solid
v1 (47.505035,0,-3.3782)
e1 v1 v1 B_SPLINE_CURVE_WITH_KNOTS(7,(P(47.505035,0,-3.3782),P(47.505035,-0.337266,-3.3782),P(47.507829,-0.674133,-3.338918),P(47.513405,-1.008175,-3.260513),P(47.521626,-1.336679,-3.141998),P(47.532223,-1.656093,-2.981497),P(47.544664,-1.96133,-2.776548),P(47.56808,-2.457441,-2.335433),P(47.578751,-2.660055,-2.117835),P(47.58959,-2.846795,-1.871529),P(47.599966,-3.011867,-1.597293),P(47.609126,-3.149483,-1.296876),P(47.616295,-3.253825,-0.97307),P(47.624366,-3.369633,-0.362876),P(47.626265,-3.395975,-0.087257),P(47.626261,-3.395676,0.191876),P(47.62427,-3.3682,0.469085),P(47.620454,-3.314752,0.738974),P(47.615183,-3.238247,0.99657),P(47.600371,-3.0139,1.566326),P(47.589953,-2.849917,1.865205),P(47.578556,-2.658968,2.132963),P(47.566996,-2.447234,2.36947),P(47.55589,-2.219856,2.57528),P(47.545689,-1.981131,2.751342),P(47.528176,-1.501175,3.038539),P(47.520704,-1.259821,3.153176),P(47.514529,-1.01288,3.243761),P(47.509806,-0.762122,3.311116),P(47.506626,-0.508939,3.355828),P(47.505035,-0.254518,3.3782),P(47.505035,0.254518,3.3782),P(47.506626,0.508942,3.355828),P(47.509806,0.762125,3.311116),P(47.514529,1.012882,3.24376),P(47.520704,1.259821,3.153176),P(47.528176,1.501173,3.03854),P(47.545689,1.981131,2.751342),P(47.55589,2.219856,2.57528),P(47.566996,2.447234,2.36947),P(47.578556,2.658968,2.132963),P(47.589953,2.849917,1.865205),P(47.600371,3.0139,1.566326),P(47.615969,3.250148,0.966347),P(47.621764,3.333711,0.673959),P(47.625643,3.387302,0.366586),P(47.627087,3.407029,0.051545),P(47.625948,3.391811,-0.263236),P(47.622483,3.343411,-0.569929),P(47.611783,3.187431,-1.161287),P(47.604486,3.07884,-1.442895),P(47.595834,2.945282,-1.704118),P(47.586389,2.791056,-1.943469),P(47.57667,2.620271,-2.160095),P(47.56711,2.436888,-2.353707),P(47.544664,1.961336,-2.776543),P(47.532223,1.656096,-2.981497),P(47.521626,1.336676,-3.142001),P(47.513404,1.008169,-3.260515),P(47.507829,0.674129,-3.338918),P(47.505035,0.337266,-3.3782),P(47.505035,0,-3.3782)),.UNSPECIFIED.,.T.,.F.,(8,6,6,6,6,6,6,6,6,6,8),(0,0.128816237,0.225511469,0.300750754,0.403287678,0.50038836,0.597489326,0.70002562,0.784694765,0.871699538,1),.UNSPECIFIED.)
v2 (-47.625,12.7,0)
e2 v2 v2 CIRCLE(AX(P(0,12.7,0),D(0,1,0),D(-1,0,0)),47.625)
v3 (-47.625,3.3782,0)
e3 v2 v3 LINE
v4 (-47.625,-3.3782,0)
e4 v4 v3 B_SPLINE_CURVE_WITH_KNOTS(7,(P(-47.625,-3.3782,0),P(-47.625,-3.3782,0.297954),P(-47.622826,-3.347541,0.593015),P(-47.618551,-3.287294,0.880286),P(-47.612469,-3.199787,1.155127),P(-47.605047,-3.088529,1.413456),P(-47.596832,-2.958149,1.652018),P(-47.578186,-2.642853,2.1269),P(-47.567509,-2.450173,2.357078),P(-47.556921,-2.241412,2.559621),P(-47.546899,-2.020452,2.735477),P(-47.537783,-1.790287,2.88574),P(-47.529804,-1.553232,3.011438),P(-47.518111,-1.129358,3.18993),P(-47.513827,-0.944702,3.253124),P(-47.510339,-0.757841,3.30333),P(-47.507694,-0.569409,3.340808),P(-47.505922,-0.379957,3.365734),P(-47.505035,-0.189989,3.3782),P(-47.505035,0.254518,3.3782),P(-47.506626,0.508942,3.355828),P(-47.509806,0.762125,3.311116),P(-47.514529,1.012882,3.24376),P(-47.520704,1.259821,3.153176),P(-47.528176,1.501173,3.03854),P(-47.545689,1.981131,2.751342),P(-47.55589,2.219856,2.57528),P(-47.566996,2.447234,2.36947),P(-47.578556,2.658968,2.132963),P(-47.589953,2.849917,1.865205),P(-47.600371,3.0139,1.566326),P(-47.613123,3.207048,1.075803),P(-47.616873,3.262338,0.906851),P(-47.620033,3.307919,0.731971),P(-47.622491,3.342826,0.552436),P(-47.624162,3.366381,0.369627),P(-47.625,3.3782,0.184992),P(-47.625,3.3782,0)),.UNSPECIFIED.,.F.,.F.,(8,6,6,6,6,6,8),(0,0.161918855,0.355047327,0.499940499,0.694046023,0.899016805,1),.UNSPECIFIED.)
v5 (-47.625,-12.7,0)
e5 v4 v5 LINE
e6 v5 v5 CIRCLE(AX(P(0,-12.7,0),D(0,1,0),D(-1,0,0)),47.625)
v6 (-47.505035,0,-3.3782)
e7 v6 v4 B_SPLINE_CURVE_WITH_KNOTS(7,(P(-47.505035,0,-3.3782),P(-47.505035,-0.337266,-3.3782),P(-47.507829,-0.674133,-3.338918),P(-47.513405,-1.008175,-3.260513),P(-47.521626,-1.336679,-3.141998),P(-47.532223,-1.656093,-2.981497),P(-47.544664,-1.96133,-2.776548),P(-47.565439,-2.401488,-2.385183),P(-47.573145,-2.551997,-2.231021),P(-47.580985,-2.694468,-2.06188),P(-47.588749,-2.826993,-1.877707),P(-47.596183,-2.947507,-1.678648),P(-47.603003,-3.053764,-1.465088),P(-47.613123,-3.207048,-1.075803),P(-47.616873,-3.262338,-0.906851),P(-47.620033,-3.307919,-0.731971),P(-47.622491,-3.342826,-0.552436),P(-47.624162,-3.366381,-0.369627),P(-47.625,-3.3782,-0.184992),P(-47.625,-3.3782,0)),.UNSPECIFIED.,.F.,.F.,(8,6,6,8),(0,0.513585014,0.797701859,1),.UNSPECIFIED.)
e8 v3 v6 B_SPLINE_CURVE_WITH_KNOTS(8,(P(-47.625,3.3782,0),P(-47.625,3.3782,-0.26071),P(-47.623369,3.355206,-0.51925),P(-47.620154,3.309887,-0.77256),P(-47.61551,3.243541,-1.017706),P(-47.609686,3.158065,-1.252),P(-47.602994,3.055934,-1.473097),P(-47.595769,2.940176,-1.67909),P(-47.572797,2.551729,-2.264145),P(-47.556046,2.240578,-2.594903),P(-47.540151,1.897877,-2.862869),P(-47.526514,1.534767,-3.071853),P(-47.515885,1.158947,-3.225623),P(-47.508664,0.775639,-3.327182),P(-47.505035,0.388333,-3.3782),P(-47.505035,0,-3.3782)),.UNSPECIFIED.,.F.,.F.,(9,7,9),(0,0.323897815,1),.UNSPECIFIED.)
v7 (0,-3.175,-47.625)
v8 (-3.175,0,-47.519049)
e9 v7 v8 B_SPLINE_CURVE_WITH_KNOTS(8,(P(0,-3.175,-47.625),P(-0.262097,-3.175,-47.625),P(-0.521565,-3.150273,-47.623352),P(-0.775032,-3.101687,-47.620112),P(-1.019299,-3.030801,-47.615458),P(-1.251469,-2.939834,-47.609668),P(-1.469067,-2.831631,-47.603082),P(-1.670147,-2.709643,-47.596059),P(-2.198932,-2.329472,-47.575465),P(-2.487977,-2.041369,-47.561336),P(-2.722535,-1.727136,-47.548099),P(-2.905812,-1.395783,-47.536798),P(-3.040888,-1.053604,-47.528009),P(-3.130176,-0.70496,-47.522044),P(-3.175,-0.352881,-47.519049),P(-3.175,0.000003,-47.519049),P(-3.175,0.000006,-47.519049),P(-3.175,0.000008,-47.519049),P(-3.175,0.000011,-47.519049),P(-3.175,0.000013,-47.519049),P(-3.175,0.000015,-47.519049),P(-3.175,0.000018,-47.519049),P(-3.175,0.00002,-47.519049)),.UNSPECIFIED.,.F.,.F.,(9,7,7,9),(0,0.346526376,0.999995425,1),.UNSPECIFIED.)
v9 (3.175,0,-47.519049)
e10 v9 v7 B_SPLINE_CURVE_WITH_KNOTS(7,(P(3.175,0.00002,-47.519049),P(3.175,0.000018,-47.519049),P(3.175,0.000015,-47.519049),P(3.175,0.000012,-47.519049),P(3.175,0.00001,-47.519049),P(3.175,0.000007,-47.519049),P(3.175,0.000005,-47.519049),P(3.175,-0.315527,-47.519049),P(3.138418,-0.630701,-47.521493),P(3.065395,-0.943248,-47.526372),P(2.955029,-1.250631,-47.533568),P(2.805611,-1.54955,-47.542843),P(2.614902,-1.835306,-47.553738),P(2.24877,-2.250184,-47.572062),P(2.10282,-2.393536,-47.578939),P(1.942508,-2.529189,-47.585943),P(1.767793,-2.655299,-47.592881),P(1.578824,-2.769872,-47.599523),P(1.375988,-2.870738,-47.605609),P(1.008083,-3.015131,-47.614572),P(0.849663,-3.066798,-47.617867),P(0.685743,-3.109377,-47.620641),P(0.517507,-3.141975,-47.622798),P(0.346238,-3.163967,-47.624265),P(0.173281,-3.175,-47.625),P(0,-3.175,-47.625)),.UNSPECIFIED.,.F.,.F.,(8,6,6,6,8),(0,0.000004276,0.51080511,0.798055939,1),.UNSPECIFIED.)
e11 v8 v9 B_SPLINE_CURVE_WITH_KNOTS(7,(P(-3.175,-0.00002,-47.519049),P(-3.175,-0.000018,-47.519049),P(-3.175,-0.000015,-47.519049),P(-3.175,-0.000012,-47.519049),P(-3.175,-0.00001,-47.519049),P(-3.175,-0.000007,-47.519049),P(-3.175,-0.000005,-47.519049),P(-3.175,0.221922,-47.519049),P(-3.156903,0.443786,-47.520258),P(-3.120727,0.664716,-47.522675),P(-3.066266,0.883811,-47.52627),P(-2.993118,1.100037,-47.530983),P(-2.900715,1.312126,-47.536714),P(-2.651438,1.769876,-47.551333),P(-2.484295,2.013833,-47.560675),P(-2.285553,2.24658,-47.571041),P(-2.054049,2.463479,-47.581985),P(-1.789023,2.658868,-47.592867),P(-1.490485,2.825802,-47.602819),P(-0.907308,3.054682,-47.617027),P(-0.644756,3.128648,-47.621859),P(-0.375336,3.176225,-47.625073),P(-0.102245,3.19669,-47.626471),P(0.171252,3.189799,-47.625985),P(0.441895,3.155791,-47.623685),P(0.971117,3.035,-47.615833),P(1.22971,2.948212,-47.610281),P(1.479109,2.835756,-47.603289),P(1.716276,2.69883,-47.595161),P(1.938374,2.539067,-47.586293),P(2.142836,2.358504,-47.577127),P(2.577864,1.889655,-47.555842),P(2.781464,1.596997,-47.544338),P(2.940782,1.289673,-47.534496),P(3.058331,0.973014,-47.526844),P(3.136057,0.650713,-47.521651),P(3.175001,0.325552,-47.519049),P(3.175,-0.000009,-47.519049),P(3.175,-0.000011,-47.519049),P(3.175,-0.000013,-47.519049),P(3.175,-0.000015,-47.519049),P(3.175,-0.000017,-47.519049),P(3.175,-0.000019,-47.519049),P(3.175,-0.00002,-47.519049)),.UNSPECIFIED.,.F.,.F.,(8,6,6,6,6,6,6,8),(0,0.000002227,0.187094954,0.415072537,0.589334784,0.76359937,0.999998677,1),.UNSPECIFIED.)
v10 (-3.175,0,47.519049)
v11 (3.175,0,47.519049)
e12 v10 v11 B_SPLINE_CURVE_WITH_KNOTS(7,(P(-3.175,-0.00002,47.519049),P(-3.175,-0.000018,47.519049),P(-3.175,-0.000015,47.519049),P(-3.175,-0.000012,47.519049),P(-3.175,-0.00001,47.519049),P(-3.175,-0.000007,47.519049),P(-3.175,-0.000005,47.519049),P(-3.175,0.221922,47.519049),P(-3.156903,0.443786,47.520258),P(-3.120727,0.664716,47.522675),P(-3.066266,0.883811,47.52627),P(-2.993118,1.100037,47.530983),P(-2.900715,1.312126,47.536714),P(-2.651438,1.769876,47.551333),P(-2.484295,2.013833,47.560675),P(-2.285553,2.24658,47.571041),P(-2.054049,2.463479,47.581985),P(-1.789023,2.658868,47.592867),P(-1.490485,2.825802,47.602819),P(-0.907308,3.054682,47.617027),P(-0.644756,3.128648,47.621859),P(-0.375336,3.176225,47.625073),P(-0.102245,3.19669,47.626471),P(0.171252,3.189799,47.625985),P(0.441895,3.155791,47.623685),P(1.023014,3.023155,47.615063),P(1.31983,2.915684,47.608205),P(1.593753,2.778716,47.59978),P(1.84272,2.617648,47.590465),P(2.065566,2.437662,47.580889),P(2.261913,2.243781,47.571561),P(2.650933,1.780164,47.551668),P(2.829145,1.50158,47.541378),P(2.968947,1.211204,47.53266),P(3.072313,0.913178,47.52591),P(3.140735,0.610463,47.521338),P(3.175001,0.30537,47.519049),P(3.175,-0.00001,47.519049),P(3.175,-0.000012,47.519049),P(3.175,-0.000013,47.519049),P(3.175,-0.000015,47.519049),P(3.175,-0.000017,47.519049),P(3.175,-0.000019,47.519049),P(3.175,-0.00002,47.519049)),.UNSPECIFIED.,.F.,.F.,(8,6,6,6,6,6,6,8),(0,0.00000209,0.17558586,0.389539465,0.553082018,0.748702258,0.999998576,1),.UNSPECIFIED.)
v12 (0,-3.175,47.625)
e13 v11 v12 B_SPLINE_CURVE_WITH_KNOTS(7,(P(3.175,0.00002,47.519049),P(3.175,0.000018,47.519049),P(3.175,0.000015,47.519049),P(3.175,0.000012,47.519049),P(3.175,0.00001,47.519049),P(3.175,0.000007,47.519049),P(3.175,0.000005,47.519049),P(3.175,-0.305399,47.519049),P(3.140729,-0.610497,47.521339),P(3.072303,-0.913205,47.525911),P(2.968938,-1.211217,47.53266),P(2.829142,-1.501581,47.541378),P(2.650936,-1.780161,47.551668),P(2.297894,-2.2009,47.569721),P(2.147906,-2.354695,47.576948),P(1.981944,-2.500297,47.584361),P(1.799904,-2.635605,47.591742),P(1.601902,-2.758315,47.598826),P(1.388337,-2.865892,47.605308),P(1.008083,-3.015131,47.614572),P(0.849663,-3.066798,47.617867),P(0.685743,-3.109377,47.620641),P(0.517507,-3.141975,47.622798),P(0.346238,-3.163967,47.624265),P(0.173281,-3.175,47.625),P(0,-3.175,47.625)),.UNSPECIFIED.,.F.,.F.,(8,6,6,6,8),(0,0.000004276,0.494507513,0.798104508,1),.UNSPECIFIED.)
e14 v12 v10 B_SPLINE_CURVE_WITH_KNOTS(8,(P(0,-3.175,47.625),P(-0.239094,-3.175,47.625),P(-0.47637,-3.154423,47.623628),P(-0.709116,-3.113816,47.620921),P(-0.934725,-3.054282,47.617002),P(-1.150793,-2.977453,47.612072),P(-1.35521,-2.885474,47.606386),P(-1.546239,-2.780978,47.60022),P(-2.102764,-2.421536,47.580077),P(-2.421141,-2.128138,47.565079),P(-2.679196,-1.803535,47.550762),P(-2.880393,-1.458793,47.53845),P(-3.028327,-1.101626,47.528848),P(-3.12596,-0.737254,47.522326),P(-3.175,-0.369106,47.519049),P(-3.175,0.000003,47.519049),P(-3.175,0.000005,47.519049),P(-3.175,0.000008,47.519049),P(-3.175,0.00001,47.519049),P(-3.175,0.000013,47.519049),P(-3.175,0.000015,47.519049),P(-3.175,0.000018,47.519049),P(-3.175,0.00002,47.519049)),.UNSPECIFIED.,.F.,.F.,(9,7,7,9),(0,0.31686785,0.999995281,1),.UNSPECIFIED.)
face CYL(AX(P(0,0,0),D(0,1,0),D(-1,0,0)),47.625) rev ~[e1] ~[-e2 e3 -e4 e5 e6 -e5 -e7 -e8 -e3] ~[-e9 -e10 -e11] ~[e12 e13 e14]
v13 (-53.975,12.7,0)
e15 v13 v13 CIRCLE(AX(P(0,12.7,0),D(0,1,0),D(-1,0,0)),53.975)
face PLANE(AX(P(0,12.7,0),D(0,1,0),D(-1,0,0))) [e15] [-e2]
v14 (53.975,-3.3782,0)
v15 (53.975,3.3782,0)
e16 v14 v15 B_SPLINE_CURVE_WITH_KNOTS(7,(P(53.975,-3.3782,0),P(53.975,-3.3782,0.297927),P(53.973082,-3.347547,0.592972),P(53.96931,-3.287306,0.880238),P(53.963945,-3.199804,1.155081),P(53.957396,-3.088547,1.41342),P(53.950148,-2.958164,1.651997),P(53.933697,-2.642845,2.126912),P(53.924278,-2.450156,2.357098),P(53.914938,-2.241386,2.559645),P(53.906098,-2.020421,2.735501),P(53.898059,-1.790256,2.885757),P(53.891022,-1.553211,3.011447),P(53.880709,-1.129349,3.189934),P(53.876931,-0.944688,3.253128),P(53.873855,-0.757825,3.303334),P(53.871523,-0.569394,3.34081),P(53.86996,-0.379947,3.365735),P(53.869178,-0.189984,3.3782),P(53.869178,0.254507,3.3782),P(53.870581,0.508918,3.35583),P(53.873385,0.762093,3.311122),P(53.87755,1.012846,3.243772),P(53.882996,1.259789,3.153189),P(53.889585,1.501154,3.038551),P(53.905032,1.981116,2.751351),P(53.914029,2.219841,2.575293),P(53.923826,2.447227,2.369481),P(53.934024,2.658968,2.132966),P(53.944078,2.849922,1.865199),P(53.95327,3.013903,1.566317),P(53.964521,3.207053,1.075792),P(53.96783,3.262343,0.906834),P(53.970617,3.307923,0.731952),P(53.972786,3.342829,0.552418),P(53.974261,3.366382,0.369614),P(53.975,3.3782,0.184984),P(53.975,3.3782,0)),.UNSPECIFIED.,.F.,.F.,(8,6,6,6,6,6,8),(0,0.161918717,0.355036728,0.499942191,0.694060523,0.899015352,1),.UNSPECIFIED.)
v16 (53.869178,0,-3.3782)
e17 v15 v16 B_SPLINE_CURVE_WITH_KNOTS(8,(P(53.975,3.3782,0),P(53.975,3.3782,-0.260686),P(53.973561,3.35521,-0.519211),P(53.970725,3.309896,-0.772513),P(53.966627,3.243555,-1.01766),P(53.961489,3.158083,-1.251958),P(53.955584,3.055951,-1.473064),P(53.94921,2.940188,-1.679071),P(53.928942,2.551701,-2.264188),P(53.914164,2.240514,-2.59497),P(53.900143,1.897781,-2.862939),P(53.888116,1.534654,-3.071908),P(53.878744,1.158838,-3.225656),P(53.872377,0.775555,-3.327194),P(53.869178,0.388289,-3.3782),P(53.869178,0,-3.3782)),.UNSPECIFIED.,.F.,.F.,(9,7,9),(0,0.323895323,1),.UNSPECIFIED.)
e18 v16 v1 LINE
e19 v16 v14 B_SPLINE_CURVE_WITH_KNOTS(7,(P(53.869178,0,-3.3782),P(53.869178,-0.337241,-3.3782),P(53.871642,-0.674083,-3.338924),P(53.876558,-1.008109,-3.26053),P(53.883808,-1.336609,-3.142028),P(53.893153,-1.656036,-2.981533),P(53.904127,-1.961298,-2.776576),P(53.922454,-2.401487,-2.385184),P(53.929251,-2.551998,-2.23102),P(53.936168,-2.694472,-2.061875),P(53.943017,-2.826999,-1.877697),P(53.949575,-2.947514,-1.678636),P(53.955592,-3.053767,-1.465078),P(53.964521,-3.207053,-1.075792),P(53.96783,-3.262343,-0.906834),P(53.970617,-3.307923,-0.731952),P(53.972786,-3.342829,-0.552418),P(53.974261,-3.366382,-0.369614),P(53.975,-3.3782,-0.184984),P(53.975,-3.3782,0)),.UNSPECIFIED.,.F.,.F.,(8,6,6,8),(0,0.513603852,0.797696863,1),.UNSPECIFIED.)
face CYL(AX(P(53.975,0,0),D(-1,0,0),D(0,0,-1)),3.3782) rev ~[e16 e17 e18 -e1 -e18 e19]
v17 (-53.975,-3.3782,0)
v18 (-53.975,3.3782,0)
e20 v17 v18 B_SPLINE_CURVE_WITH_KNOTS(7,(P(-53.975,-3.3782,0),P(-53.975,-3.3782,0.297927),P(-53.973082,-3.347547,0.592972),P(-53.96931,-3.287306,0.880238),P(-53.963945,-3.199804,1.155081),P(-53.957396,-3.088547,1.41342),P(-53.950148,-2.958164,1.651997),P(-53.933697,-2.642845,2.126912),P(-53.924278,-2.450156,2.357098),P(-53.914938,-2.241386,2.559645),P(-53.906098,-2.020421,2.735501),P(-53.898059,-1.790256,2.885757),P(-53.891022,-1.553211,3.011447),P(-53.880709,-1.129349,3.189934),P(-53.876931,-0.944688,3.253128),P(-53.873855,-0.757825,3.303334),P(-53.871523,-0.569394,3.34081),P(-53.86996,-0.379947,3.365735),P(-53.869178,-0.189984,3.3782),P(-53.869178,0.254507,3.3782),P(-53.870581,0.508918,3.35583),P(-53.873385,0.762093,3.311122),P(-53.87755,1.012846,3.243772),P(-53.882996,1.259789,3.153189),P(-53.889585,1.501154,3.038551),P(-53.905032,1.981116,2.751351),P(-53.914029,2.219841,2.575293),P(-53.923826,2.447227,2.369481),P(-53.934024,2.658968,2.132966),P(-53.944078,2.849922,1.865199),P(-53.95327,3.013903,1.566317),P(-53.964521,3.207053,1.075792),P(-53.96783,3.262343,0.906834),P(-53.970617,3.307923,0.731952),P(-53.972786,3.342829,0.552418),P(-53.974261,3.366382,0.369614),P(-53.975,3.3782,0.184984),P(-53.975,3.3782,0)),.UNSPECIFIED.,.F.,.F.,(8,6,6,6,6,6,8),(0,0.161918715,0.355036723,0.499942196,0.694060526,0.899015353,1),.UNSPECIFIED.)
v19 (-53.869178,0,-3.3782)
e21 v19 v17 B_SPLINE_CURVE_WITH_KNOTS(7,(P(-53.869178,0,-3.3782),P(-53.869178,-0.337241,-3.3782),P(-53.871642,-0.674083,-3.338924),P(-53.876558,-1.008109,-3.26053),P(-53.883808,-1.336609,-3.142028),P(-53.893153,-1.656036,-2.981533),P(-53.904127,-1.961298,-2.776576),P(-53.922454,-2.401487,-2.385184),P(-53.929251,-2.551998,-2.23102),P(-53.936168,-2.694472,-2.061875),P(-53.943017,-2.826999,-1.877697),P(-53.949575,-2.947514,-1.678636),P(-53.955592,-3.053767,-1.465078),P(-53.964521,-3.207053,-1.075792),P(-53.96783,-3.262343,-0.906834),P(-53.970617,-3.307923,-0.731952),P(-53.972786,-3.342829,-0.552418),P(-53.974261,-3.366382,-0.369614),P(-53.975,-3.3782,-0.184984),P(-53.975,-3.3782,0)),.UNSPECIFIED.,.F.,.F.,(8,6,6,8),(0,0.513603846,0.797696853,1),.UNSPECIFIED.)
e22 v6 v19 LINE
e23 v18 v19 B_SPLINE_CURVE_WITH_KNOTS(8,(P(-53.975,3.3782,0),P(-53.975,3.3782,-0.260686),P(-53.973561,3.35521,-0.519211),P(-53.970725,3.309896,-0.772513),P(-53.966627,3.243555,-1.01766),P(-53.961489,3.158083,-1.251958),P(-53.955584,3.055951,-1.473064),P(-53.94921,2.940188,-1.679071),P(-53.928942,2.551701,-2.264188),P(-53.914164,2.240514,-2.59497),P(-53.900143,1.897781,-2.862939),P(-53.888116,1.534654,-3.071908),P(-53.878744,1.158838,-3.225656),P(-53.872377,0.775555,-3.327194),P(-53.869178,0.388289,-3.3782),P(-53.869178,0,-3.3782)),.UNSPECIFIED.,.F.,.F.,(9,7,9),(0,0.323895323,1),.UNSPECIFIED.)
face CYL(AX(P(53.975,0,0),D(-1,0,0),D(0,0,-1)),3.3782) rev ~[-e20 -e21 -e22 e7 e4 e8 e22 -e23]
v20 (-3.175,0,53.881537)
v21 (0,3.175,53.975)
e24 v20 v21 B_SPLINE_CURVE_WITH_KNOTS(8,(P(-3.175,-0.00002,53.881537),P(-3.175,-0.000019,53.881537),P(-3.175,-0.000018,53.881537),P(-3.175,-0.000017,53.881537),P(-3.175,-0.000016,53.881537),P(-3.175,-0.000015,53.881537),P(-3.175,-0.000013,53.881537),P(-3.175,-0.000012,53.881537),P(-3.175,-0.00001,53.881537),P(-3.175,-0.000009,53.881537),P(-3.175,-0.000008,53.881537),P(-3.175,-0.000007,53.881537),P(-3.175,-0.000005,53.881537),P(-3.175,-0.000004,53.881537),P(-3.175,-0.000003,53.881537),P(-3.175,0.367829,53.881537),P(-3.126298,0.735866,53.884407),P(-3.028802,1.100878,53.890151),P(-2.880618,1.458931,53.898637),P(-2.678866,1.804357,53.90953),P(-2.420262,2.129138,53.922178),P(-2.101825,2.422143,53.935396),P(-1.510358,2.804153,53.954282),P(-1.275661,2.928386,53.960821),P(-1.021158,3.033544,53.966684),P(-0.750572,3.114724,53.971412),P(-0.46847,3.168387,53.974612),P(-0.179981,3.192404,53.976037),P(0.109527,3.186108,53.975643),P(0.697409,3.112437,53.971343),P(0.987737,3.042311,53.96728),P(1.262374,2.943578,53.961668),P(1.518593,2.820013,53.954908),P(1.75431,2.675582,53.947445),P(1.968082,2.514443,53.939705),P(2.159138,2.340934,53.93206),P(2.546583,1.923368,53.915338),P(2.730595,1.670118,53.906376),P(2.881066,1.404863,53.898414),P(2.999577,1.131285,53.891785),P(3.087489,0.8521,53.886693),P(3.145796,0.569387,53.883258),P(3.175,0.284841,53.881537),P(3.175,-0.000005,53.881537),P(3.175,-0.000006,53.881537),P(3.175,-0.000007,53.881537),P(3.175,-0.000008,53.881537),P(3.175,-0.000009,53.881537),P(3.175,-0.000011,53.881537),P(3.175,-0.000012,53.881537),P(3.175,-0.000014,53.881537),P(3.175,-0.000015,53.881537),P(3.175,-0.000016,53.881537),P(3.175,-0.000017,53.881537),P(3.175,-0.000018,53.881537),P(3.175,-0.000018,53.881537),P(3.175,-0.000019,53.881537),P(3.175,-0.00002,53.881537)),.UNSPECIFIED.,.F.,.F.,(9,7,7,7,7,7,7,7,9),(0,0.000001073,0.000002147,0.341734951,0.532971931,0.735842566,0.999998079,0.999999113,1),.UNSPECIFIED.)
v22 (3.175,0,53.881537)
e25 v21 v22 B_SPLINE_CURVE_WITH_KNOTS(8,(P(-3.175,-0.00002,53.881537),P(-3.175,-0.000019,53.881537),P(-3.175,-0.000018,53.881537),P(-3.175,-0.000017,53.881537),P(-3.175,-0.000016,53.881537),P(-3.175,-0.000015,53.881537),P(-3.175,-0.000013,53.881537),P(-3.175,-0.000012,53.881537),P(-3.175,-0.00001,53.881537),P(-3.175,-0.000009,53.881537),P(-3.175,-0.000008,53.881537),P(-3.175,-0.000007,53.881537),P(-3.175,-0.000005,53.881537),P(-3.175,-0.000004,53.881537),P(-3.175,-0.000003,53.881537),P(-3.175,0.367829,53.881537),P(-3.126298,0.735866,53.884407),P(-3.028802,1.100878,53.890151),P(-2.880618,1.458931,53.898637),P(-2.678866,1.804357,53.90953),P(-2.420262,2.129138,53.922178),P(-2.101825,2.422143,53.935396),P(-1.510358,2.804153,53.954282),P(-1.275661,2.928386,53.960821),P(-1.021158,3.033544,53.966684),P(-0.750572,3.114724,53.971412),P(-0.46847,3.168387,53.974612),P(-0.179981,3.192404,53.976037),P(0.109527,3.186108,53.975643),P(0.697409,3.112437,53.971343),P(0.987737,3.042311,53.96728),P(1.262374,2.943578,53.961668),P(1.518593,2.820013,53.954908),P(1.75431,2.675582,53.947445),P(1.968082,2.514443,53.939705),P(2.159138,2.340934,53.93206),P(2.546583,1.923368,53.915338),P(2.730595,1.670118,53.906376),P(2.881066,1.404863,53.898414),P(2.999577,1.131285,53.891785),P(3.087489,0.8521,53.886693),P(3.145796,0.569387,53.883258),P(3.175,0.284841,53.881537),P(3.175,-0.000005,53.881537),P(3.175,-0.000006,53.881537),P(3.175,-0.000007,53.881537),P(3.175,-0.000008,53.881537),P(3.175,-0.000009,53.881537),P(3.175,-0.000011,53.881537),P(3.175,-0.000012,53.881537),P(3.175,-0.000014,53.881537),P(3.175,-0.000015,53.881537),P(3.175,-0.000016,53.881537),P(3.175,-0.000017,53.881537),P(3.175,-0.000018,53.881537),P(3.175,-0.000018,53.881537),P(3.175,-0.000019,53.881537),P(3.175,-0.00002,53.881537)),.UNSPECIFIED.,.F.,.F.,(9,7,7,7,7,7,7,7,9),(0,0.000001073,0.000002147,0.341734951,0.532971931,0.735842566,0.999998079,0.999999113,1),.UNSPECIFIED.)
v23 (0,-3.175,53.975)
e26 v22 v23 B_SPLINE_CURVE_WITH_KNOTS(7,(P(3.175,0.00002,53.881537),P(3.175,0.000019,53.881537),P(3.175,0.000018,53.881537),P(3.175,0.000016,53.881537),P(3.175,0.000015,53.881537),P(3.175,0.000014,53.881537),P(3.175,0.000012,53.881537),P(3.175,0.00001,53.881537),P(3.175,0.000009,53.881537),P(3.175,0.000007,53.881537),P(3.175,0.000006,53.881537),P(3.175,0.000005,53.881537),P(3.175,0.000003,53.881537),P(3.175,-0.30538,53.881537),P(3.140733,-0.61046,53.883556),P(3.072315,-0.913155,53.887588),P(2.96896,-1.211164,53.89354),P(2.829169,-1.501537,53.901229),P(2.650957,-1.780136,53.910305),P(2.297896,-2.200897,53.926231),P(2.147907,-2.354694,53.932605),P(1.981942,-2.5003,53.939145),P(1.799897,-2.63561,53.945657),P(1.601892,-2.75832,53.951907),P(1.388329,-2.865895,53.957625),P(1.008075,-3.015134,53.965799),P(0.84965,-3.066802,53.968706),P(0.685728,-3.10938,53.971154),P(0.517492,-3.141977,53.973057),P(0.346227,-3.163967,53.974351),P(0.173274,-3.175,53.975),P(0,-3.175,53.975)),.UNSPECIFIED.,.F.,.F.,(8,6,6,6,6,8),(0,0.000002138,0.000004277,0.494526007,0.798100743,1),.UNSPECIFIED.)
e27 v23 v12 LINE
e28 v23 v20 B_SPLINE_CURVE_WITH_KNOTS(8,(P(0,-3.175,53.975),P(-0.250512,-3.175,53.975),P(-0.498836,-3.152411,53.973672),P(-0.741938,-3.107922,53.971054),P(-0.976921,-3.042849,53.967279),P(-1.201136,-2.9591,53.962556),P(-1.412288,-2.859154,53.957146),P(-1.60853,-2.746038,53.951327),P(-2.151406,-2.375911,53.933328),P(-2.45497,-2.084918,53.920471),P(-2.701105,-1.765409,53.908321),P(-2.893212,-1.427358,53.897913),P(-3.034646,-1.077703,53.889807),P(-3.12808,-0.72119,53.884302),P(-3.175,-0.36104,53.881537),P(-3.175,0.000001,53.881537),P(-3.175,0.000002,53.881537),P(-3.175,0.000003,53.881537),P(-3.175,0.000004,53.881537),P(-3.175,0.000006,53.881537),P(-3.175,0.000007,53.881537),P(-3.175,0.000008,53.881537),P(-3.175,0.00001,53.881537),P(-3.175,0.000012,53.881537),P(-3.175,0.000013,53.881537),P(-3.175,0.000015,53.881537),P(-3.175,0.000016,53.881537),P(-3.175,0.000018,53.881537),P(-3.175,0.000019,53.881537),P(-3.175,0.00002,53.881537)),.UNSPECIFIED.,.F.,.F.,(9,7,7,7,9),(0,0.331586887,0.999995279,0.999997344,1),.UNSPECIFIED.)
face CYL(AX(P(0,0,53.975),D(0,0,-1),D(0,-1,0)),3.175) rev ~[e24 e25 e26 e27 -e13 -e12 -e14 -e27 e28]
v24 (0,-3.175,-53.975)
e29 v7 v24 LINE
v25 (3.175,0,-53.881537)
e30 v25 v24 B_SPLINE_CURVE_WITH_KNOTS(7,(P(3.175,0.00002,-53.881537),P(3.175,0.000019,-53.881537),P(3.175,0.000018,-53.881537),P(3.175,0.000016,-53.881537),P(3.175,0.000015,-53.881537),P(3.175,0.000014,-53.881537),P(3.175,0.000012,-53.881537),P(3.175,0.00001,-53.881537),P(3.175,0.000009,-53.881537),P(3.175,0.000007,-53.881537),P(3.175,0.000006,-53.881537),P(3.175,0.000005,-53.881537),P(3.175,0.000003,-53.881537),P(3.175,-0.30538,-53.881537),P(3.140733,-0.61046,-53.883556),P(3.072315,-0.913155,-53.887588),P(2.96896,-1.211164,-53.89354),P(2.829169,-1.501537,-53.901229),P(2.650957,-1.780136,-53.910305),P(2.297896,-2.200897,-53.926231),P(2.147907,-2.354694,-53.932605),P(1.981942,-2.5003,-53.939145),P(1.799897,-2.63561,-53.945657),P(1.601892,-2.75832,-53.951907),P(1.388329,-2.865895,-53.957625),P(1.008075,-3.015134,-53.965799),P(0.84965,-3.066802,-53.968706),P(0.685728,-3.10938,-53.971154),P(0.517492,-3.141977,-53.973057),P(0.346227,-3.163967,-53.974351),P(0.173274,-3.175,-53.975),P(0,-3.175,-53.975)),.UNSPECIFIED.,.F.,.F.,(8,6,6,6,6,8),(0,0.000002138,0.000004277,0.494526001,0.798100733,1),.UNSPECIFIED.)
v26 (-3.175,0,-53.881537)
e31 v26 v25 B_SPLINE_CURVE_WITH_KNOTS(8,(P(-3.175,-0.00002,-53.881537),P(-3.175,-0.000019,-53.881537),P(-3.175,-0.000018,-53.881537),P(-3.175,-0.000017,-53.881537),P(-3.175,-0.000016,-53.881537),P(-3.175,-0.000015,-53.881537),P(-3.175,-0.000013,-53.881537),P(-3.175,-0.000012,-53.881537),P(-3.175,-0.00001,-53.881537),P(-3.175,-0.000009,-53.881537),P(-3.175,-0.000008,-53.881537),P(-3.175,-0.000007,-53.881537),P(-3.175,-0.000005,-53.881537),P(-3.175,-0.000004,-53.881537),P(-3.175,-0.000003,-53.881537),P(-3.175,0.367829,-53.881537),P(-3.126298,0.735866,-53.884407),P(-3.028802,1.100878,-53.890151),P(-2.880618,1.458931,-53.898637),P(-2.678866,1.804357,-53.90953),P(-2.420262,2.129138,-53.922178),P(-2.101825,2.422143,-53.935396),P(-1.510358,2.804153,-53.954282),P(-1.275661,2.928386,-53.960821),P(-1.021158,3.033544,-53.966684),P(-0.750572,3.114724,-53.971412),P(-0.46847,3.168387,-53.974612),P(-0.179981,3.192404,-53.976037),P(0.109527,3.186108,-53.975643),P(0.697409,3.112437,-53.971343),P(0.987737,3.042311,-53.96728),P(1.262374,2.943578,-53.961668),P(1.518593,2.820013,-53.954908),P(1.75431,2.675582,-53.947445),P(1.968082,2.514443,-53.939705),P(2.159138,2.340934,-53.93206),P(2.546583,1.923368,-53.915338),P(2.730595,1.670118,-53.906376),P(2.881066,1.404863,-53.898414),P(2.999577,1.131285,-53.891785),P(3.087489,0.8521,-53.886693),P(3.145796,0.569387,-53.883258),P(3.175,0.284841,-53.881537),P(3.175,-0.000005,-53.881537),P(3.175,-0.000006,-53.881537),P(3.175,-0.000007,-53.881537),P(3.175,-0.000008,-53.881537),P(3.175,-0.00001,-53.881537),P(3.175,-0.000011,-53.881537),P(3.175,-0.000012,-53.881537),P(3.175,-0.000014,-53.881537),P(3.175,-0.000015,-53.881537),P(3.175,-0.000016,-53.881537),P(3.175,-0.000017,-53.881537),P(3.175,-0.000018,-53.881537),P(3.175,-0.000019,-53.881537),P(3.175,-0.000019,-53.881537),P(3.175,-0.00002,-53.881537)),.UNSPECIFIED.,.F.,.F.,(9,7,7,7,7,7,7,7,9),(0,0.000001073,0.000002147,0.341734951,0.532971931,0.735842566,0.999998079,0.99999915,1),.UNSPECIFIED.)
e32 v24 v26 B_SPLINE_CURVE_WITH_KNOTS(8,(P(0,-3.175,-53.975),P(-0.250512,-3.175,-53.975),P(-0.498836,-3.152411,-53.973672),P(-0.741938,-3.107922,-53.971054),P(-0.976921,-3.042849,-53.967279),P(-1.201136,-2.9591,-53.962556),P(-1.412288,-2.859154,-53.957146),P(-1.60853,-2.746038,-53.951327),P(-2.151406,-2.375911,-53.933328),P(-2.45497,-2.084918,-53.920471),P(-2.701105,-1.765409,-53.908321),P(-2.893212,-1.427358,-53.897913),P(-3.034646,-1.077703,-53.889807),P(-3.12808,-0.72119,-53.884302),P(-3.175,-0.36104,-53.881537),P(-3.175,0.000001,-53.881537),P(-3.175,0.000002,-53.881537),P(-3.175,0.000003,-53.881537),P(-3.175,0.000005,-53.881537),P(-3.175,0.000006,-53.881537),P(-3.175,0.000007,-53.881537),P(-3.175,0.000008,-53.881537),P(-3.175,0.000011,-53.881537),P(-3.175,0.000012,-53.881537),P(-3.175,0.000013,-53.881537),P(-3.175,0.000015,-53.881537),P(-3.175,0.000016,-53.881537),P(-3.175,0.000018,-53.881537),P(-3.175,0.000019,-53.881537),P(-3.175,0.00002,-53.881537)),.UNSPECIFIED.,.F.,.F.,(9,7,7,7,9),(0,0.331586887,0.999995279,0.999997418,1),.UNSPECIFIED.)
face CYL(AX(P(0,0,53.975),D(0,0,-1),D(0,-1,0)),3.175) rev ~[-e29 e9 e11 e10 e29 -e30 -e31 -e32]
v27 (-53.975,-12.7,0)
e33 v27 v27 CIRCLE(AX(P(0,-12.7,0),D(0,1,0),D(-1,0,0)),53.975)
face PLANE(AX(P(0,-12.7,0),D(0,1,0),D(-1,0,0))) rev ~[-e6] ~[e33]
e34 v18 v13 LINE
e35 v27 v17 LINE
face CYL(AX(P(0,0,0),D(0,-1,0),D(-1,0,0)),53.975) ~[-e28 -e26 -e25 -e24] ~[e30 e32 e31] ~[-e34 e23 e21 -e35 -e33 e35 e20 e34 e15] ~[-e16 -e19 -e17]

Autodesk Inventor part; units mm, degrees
ref_plane "XZ Plane" through (0, 0, 0) normal (0, 1, 0) x (-1, 0, 0)
sketch "Sketch1" plane through (0, 0, 0) normal (0, 1, 0) x (-1, 0, 0)
  circle A0 centre (0, 0) radius 47.625
  circle A1 centre (0, 0) radius 53.975
  dimension "d0" = 95.25
  dimension "d1" = 107.95
extrude "Extrusion1" add sketch "Sketch1" along normal mid plane 25.4
ref_plane "Work Plane1" through (0, 0, 53.975) normal (0, 0, 1) x (1, 0, 0)
sketch "Sketch2" plane through (0, 0, 53.975) normal (0, 0, 1) x (1, 0, 0)
  point P0 (0, 0)
  point P1 (0, 0)
hole "Hole1" at (0, 0, 53.975) direction (0, 0, -1) diameter 6.35 end through all
ref_plane "Work Plane2" through (53.975, 0, 0) normal (1, 0, 0) x (0, 1, 0)
sketch "Sketch3" plane through (53.975, 0, 0) normal (1, 0, 0) x (0, 1, 0)
  point P0 (0, 0)
  point P1 (0, 0)
hole "Hole2" at (53.975, 0, 0) direction (-1, 0, 0) diameter 6.7564 end through all clearance for "Flat Head Machine Screw (82)" size "1/4" standard "Ansi Unified Screw Threads"
equation "\"d0\" = innerDiam"
equation "\"d1\" = outerRingDism"
equation "\"d2\" = ringHeight"
equation "\"d5\" = ringAxelDiam"
equation "\"innerDiam\" = 95.25"
equation "\"ringThickness\" = 6.35"
equation "\"ringHeight\" = 25.4"
equation "\"ringAxelDiam\" = 6.35"
equation "\"outerRingDism\" = innerDiam + 2 * ringThickness"
equation "\"outerRingRadius\" = 0.5 * outerRingDism"
equation "\"d4\" = outerRingRadius"
equation "\"d12\" = outerRingRadius"
properties part number "outerRing"
